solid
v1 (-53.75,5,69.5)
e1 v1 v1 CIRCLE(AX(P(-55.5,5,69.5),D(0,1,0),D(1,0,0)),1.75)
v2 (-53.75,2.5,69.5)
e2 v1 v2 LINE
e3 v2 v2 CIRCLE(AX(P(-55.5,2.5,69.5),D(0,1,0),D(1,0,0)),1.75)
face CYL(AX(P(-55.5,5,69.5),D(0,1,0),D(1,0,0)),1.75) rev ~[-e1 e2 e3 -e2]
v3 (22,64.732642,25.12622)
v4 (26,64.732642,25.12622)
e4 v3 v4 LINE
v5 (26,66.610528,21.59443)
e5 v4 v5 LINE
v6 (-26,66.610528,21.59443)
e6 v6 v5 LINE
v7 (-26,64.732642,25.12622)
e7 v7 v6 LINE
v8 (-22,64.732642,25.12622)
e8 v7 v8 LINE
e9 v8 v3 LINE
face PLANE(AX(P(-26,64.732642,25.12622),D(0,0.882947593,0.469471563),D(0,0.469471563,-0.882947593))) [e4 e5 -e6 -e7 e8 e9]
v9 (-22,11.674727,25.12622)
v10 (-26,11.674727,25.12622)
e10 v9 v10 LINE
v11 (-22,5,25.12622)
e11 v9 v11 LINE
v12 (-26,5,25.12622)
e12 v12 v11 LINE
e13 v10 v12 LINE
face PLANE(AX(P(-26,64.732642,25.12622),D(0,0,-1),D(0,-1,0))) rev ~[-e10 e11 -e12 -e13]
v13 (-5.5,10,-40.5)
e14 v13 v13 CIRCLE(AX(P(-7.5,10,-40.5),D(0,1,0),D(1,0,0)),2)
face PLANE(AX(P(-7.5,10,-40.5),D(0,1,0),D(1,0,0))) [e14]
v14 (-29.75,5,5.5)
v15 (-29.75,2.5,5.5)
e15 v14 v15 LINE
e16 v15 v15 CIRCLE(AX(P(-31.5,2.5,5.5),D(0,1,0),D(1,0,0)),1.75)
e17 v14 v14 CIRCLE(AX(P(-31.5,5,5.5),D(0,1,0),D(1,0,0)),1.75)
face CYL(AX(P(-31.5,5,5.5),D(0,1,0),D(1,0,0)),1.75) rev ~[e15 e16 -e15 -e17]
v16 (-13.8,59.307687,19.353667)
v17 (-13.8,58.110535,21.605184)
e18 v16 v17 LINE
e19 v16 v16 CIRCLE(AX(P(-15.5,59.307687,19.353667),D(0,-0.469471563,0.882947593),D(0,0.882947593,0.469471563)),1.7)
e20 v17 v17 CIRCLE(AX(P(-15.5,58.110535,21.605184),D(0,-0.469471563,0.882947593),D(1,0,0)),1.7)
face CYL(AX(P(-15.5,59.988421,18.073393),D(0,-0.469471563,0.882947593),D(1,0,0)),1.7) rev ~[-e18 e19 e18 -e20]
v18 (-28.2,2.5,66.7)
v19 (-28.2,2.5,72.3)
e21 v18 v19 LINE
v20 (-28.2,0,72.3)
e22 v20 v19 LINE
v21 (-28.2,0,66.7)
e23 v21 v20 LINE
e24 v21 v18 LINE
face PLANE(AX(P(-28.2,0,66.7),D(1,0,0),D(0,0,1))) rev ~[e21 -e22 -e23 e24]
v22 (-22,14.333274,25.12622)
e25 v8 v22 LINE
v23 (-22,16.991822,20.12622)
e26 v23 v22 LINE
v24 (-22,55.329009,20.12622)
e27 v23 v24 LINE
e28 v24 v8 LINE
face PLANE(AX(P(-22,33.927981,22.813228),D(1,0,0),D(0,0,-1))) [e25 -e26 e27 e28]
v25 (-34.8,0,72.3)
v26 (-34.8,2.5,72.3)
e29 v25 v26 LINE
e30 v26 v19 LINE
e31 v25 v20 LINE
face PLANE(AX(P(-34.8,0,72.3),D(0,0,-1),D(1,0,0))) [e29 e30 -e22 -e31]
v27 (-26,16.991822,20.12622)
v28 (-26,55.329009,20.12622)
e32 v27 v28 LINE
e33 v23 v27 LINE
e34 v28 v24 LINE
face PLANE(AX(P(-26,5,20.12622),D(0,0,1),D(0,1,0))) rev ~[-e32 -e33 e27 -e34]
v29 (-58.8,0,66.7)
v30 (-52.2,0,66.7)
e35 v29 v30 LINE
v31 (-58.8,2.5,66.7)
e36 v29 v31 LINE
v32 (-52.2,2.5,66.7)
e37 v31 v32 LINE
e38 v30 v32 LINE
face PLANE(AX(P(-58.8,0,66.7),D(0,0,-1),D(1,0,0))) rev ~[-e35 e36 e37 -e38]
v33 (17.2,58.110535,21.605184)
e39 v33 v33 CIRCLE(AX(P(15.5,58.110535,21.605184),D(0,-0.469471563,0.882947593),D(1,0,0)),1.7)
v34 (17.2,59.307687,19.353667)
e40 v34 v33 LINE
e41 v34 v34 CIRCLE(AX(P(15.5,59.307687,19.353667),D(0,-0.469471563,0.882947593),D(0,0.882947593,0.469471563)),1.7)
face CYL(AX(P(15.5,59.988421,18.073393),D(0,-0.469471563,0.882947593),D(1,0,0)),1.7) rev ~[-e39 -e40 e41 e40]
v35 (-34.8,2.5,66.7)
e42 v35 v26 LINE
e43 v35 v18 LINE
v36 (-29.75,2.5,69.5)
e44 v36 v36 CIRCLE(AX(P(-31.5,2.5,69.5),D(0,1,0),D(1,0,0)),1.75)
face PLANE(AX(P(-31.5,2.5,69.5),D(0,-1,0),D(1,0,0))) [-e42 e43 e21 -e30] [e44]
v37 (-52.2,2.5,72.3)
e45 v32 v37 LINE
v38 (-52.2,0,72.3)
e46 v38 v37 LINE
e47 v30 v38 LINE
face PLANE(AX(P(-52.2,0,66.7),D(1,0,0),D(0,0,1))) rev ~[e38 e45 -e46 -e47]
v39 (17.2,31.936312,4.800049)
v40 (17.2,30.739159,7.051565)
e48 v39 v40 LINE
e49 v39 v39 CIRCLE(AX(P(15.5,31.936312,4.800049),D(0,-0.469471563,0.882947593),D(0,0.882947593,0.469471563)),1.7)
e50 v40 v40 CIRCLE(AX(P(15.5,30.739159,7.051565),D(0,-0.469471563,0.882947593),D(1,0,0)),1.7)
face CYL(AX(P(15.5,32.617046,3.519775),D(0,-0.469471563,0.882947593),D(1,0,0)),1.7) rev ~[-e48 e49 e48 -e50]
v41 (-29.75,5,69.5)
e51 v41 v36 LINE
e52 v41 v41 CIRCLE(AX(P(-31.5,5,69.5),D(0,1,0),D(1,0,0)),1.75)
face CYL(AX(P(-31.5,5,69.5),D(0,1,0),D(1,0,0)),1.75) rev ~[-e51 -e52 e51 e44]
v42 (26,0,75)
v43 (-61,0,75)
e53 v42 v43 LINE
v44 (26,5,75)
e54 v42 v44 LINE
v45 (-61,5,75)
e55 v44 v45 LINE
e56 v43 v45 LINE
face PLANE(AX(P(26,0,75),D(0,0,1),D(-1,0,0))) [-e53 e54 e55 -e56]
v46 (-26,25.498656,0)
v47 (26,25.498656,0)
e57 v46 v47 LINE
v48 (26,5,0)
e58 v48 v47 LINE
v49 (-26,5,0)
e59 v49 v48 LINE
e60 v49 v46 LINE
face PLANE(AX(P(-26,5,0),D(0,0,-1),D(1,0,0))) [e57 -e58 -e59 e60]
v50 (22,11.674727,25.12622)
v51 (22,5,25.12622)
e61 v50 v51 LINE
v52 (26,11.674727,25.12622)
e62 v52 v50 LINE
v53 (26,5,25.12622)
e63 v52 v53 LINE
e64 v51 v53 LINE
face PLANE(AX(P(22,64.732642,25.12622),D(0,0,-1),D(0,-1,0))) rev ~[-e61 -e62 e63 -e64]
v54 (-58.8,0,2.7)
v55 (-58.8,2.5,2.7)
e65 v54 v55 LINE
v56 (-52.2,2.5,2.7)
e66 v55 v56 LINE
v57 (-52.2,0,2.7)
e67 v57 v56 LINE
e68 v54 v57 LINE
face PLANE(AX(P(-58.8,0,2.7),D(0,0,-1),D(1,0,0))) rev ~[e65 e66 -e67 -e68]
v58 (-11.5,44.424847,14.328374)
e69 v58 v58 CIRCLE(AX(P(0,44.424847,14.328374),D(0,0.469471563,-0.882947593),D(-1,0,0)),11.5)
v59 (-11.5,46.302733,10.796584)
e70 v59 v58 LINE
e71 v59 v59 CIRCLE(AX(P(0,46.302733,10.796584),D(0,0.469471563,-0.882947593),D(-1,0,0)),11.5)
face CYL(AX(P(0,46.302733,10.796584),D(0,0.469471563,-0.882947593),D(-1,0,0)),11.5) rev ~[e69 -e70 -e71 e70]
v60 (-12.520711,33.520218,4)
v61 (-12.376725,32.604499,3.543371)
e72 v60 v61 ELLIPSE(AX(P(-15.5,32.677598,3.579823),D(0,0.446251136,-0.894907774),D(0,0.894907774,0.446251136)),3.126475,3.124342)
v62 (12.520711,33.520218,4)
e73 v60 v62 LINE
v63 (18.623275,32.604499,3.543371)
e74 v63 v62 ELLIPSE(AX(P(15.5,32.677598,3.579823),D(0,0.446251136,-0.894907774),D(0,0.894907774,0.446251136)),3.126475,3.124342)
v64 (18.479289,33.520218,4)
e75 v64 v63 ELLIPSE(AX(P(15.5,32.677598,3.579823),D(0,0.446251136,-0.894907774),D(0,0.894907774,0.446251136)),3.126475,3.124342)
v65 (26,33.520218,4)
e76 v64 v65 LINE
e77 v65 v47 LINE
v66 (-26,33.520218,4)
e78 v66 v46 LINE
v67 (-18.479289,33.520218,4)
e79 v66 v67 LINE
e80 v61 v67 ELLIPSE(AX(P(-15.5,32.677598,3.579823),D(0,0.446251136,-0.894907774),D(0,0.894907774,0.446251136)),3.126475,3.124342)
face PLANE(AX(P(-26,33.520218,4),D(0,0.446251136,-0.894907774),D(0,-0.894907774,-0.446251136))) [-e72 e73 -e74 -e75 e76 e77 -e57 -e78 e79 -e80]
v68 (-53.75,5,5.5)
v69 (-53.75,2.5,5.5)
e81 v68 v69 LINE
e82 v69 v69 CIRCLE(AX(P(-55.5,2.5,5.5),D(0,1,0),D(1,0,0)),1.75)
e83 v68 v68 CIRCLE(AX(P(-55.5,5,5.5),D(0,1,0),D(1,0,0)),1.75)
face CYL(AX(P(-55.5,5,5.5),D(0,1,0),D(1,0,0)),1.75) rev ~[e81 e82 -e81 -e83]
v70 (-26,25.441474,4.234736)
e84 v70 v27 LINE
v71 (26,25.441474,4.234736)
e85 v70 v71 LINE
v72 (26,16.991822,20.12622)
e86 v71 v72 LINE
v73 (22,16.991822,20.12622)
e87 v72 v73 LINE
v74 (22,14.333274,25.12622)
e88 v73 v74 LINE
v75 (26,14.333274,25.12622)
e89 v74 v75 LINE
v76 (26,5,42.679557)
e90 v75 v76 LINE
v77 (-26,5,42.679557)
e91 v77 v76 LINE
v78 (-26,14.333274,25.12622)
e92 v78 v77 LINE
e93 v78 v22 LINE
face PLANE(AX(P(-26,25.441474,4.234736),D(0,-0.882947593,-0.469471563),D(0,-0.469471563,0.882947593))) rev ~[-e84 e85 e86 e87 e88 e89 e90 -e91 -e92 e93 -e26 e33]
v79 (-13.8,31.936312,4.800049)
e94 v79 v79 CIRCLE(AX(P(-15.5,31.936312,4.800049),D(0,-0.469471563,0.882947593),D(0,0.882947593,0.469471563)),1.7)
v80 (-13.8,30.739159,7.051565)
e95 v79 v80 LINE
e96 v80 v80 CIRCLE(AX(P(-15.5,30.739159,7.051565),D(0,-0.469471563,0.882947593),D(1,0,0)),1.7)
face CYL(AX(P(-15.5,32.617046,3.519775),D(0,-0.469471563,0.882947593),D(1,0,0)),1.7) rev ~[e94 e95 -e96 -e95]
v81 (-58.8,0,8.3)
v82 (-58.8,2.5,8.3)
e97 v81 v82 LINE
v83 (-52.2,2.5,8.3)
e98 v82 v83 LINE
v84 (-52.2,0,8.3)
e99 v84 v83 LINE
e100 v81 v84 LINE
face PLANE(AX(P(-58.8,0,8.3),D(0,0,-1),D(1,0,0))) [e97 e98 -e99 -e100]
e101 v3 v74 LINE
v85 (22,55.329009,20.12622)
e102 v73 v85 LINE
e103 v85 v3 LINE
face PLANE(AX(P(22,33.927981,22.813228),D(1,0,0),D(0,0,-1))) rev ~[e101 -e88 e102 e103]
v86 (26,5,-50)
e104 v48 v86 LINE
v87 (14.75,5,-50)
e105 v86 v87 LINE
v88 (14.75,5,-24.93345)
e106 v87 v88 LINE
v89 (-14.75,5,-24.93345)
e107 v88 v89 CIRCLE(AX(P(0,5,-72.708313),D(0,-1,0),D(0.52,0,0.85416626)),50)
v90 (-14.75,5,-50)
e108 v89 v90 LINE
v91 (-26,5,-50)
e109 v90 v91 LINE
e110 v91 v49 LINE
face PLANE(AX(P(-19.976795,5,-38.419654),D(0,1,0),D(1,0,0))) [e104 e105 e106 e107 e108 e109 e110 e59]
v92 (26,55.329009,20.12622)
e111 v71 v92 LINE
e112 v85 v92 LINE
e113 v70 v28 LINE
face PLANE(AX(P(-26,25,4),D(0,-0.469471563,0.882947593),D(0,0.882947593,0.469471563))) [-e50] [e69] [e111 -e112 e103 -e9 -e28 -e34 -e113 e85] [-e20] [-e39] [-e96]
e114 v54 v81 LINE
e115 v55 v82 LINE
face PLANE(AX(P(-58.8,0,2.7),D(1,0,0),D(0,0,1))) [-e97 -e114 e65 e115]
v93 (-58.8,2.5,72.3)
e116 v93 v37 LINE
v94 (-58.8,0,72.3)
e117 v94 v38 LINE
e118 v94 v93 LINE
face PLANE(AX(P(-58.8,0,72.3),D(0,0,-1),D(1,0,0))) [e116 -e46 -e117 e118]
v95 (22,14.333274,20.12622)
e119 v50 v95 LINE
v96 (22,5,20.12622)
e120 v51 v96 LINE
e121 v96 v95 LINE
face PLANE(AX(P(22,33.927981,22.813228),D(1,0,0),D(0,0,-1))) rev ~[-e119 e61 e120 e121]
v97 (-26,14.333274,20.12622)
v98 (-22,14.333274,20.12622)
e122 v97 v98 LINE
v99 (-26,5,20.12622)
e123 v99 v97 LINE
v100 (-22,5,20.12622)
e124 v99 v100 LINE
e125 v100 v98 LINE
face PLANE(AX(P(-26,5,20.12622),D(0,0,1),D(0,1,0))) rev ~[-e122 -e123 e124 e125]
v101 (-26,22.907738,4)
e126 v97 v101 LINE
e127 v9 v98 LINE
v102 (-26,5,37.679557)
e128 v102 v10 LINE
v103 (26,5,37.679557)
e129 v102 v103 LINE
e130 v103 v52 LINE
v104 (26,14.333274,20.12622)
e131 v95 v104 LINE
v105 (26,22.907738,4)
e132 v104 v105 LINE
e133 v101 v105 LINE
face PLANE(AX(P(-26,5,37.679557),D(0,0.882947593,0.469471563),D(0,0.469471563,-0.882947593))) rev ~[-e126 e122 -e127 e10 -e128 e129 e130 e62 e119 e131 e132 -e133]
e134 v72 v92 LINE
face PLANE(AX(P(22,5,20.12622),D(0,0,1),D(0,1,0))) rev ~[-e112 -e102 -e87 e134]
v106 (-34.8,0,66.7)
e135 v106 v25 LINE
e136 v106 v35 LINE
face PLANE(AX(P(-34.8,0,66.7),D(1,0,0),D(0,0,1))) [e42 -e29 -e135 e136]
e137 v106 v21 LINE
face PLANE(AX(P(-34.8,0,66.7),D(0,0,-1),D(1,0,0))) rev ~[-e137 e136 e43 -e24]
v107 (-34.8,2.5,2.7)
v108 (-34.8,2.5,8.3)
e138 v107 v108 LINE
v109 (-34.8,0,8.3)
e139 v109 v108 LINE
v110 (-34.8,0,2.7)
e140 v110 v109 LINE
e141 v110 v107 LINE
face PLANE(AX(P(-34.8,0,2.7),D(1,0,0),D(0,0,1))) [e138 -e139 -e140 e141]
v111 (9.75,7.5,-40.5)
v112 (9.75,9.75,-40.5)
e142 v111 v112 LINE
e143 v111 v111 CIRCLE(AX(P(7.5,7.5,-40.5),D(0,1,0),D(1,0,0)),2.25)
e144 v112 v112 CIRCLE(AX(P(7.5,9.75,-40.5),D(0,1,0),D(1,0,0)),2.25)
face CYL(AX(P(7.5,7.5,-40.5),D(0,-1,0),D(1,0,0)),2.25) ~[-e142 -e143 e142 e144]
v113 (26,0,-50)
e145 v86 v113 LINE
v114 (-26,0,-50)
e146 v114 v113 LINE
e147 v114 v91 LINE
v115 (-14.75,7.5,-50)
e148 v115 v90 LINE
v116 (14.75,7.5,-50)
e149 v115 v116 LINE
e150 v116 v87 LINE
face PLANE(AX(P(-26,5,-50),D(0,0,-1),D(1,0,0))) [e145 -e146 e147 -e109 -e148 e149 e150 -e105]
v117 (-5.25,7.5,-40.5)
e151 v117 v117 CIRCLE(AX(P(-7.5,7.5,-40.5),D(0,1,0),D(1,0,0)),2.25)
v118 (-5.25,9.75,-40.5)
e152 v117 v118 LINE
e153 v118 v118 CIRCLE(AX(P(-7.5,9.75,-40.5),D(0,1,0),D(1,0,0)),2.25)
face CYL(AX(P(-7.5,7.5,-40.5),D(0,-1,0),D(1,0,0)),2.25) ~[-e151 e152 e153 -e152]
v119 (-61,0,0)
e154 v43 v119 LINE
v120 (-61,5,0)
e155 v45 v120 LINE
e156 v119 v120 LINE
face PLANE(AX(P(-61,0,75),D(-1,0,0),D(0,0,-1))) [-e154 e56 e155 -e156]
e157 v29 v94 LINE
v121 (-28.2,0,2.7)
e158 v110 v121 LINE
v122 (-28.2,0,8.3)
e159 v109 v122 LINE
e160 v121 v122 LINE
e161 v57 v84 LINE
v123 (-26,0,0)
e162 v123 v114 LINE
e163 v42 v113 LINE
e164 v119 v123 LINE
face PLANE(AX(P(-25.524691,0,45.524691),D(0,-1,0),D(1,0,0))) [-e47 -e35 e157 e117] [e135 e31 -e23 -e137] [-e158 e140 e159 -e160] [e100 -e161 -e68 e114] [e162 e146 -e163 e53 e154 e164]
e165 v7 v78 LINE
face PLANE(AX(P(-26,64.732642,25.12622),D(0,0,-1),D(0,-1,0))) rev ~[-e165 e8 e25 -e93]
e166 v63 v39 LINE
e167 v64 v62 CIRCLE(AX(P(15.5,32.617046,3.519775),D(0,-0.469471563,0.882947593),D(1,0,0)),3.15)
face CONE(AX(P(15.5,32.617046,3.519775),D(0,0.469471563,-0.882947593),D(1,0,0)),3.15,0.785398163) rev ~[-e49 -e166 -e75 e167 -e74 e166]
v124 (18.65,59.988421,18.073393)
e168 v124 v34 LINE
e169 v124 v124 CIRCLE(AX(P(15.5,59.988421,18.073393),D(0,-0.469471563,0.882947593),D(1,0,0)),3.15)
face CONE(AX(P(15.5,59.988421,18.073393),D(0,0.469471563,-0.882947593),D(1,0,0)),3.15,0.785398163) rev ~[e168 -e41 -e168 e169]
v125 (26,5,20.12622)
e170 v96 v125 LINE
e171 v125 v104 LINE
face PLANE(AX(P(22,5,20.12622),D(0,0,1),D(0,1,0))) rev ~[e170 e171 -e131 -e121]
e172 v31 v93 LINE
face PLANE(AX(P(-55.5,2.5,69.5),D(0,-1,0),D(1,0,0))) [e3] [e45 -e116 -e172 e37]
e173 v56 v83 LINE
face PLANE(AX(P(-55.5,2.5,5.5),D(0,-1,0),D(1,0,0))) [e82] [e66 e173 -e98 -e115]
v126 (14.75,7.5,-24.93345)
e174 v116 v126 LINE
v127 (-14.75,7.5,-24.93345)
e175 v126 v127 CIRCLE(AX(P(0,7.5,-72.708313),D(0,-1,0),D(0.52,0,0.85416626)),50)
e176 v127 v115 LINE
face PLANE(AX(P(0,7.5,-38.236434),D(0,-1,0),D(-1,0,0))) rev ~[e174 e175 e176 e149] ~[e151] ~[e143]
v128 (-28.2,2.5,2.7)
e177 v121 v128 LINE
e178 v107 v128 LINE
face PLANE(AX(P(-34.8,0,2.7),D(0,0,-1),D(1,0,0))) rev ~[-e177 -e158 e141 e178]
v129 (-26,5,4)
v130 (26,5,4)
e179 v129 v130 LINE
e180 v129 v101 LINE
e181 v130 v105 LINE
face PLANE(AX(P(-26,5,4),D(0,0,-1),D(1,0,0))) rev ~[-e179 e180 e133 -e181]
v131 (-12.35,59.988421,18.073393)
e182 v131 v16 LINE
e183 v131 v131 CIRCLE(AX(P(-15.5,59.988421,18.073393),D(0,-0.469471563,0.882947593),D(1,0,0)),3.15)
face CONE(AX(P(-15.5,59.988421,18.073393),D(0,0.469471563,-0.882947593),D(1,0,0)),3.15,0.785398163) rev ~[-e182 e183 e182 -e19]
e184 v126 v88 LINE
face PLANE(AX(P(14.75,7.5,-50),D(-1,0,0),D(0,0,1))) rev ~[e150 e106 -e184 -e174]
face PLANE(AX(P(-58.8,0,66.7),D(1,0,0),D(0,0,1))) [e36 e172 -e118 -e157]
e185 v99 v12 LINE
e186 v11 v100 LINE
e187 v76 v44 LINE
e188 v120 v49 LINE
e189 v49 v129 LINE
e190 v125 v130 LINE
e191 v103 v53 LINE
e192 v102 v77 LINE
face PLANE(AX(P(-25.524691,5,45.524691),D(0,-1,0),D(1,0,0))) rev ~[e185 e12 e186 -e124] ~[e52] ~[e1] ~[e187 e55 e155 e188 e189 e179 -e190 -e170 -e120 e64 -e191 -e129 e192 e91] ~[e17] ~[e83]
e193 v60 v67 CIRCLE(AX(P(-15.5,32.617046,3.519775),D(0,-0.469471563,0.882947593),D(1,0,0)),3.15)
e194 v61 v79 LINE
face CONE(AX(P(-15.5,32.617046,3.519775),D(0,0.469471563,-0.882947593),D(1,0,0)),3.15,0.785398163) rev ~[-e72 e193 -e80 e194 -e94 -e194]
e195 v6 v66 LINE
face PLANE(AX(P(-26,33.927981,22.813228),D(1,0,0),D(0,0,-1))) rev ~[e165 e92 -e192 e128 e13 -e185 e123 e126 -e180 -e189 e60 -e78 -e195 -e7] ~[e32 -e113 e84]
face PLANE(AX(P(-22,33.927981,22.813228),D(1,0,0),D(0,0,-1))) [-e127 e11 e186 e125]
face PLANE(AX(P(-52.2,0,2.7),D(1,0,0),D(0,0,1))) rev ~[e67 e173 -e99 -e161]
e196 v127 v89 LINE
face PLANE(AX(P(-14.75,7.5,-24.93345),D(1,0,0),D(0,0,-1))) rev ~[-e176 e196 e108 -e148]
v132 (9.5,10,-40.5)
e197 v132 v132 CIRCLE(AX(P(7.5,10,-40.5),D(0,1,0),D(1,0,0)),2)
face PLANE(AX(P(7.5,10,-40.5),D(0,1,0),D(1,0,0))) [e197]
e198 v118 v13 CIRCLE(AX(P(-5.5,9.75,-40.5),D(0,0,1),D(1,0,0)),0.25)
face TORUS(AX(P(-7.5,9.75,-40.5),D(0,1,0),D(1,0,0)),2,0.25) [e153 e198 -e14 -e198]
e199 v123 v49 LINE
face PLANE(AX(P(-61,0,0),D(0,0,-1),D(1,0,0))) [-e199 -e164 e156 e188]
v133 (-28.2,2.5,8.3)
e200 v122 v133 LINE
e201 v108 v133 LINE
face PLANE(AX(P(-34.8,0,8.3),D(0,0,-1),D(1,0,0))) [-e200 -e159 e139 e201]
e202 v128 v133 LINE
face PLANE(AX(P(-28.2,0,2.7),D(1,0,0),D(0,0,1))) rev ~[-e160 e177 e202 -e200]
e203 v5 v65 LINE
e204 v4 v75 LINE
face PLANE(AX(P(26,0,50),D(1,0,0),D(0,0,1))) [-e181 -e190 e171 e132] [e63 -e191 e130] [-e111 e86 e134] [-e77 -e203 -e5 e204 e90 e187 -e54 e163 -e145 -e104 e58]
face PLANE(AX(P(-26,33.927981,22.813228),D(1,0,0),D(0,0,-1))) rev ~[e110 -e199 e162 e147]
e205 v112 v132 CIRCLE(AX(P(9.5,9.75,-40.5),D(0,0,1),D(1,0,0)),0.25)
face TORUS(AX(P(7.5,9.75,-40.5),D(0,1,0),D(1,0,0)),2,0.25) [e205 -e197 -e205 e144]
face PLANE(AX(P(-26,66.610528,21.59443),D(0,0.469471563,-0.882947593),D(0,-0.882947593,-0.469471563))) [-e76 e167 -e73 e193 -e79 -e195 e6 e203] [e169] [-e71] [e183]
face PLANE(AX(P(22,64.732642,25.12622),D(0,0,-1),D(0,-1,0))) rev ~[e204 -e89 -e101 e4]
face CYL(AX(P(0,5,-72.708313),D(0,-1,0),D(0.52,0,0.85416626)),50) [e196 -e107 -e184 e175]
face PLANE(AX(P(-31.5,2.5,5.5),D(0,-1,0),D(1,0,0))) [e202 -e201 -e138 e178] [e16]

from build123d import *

# Parameters (mm, degrees)
SKETCH1_W                                           = 52
SKETCH1_H                                           = 100
BOSS_EXTRUDE1_DEPTH                                 = 5
BOSS_EXTRUDE3_DEPTH                                 = 2.5
SKETCH7_R                                           = 2.25
BOSS_EXTRUDE4_DEPTH                                 = 2.5
FILLET2_R                                           = 0.25
SKETCH9_W                                           = 52
SKETCH9_H                                           = 4
BOSS_EXTRUDE5_DEPTH                                 = 50
BOSS_EXTRUDE7_DEPTH                                 = 52
CUT_EXTRUDE3_DEPTH                                  = 52
CUT_EXTRUDE4_DEPTH                                  = 2.5
BOSS_EXTRUDE8_DEPTH                                 = 52
BOSS_EXTRUDE9_DEPTH                                 = 4
LPATTERN1_COUNT                                     = 2
LPATTERN1_PITCH                                     = 48
SKETCH18_R                                          = 11.5
CUT_EXTRUDE5_DEPTH                                  = 4
CSK_FOR_M3_COUNTERSUNK_FLAT_HEAD_SCREW1_D           = 3.4
CSK_FOR_M3_COUNTERSUNK_FLAT_HEAD_SCREW1_DEPTH       = 5
CSK_FOR_M3_COUNTERSUNK_FLAT_HEAD_SCREW1_CSINK_D     = 6.3
CSK_FOR_M3_COUNTERSUNK_FLAT_HEAD_SCREW1_CSINK_ANGLE = 90
CSK_FOR_M3_COUNTERSUNK_FLAT_HEAD_SCREW1_TIP         = 1.021463052
BOSS_EXTRUDE10_DEPTH                                = 5
SKETCH23_R                                          = 1.75
CUT_EXTRUDE6_DEPTH                                  = 5
SKETCH24_W                                          = 6.6
SKETCH24_H                                          = 5.6
CUT_EXTRUDE7_DEPTH                                  = 2.5


with BuildPart() as part:
    # Sketch1 → Boss-Extrude1 (new body)
    with BuildSketch(Plane(origin=(0, 0, 0), x_dir=(1, 0, 0), z_dir=(0, 1, 0))):
        Rectangle(SKETCH1_W, SKETCH1_H)
    extrude(amount=BOSS_EXTRUDE1_DEPTH)

    # Sketch2 → Boss-Extrude3 (add)
    with BuildSketch(Plane(origin=(0, 5, 0), x_dir=(1, 0, 0), z_dir=(0, 1, 0))):
        with BuildLine():
            Line((-26, 50), (26, 50))
            Line((26, 50), (26, 30))
            ThreePointArc((26, 30), (0, 22.708313008), (-26, 30))
            Line((-26, 30), (-26, 50))
        make_face()
    extrude(amount=BOSS_EXTRUDE3_DEPTH)

    # Sketch7 → Boss-Extrude4 (add)
    with BuildSketch(Plane(origin=(0, 7.5, 0), x_dir=(1, 0, 0), z_dir=(0, 1, 0))):
        with Locations((-7.5, 40.5)):
            Circle(SKETCH7_R)
        with Locations((7.5, 40.5)):
            Circle(SKETCH7_R)
    extrude(amount=BOSS_EXTRUDE4_DEPTH)

    # Fillet2
    fillet2_edges = [part.edges().sort_by_distance(p)[0] for p in [
        (-9.75, 10, -40.5),
        (5.25, 10, -40.5),
    ]]
    fillet(fillet2_edges, radius=FILLET2_R)

    # Sketch9 → Boss-Extrude5 (add)
    with BuildSketch(Plane(origin=(0, 5, 0), x_dir=(1, 0, 0), z_dir=(0, 1, 0))):
        with Locations((0, -2)):
            Rectangle(SKETCH9_W, SKETCH9_H)
    extrude(amount=BOSS_EXTRUDE5_DEPTH)

    # Sketch10 → Boss-Extrude7 (add)
    with BuildSketch(Plane.ZY.offset(26)):
        Polygon((4, 25), (25.126220325, 64.732641679), (21.594429954, 66.61052793), (4, 33.520217873), align=None)
    extrude(amount=-BOSS_EXTRUDE7_DEPTH)

    # Sketch11 → Cut-Extrude3 (cut)
    with BuildSketch(Plane.ZY.offset(26)):
        Polygon((4, 33.520217873), (0, 25.498656006), (0, 55), (4, 55), align=None)
    extrude(amount=-CUT_EXTRUDE3_DEPTH, mode=Mode.SUBTRACT)

    # Sketch13 → Cut-Extrude4 (cut)
    with BuildSketch(Plane(origin=(0, 7.5, 0), x_dir=(1, 0, 0), z_dir=(0, 1, 0))):
        with BuildLine():
            Line((-14.75, 24.933450371), (-14.75, 50))
            Line((-14.75, 50), (-26, 50))
            Line((-26, 50), (-26, 30))
            ThreePointArc((-26, 30), (-20.531880242, 27.118381074), (-14.75, 24.933450371))
        make_face()
        with BuildLine():
            Line((26, 50), (14.75, 50))
            Line((14.75, 50), (14.75, 24.933450371))
            ThreePointArc((14.75, 24.933450371), (20.531880242, 27.118381074), (26, 30))
            Line((26, 30), (26, 50))
        make_face()
    extrude(amount=-CUT_EXTRUDE4_DEPTH, mode=Mode.SUBTRACT)

    # Sketch16 → Boss-Extrude8 (add)
    with BuildSketch(Plane.ZY.offset(26)):
        Polygon((4.234735781, 25.441473796), (42.679556541, 5), (37.679556541, 5), (4, 22.907737867), (4, 25), align=None)
    extrude(amount=-BOSS_EXTRUDE8_DEPTH)

    # Sketch17 → Boss-Extrude9 (add)
    with BuildSketch(Plane.ZY.offset(26)):
        Polygon((25.126220325, 64.732641679), (25.126220325, 5), (20.126220325, 5), (20.126220325, 55.329009352), align=None)
    boss_extrude9 = extrude(amount=-BOSS_EXTRUDE9_DEPTH)

    # LPattern1: Boss-Extrude9 ×2
    with Locations(*[(i * LPATTERN1_PITCH, 0, 0) for i in range(1, LPATTERN1_COUNT)]):
        add(boss_extrude9)

    # Sketch18 → Cut-Extrude5 (cut)
    with BuildSketch(Plane(origin=(0, 5.729899813, -10.776374221), x_dir=(-1, 0, 0), z_dir=(0, 0.469471563, -0.882947593))):
        with Locations((0, 45.951576073)):
            Circle(SKETCH18_R)
    extrude(amount=-CUT_EXTRUDE5_DEPTH, mode=Mode.SUBTRACT)

    # CSK for M3 Countersunk Flat Head Screw1
    with Locations(Plane(origin=(0, 5.729899813, -10.776374221), x_dir=(-1, 0, 0), z_dir=(0, 0.469471563, -0.882947593))):
        with Locations((-15.5, 61.451576073), (15.5, 61.451576073), (15.5, 30.451576073), (-15.5, 30.451576073)):
            CounterSinkHole(CSK_FOR_M3_COUNTERSUNK_FLAT_HEAD_SCREW1_D / 2, CSK_FOR_M3_COUNTERSUNK_FLAT_HEAD_SCREW1_CSINK_D / 2, depth=CSK_FOR_M3_COUNTERSUNK_FLAT_HEAD_SCREW1_DEPTH, counter_sink_angle=CSK_FOR_M3_COUNTERSUNK_FLAT_HEAD_SCREW1_CSINK_ANGLE)
            with Locations((0, 0, -(CSK_FOR_M3_COUNTERSUNK_FLAT_HEAD_SCREW1_DEPTH + CSK_FOR_M3_COUNTERSUNK_FLAT_HEAD_SCREW1_TIP / 2))):  # 118° drill point
                Cone(0, CSK_FOR_M3_COUNTERSUNK_FLAT_HEAD_SCREW1_D / 2, CSK_FOR_M3_COUNTERSUNK_FLAT_HEAD_SCREW1_TIP, mode=Mode.SUBTRACT)

    # Sketch22 → Boss-Extrude10 (add)
    with BuildSketch(Plane.XZ):
        Polygon((26, 75), (-61, 75), (-61, 0), (-26, 0), (-26, 50), (26, 50), align=None)
    extrude(amount=-BOSS_EXTRUDE10_DEPTH)

    # Sketch23 → Cut-Extrude6 (cut)
    with BuildSketch(Plane(origin=(0, 5, 0), x_dir=(1, 0, 0), z_dir=(0, 1, 0))):
        with Locations((-31.5, -5.5)):
            Circle(SKETCH23_R)
        with Locations((-55.5, -5.5)):
            Circle(SKETCH23_R)
        with Locations((-55.5, -69.5)):
            Circle(SKETCH23_R)
        with Locations((-31.5, -69.5)):
            Circle(SKETCH23_R)
    extrude(amount=-CUT_EXTRUDE6_DEPTH, mode=Mode.SUBTRACT)

    # Sketch24 → Cut-Extrude7 (cut)
    with BuildSketch(Plane.XZ):
        with Locations((-31.5, 69.5)):
            Rectangle(SKETCH24_W, SKETCH24_H)
        with Locations((-55.5, 69.5)):
            Rectangle(SKETCH24_W, SKETCH24_H)
        with Locations((-31.5, 5.5)):
            Rectangle(SKETCH24_W, SKETCH24_H)
        with Locations((-55.5, 5.5)):
            Rectangle(SKETCH24_W, SKETCH24_H)
    extrude(amount=-CUT_EXTRUDE7_DEPTH, mode=Mode.SUBTRACT)


solid = part.part
